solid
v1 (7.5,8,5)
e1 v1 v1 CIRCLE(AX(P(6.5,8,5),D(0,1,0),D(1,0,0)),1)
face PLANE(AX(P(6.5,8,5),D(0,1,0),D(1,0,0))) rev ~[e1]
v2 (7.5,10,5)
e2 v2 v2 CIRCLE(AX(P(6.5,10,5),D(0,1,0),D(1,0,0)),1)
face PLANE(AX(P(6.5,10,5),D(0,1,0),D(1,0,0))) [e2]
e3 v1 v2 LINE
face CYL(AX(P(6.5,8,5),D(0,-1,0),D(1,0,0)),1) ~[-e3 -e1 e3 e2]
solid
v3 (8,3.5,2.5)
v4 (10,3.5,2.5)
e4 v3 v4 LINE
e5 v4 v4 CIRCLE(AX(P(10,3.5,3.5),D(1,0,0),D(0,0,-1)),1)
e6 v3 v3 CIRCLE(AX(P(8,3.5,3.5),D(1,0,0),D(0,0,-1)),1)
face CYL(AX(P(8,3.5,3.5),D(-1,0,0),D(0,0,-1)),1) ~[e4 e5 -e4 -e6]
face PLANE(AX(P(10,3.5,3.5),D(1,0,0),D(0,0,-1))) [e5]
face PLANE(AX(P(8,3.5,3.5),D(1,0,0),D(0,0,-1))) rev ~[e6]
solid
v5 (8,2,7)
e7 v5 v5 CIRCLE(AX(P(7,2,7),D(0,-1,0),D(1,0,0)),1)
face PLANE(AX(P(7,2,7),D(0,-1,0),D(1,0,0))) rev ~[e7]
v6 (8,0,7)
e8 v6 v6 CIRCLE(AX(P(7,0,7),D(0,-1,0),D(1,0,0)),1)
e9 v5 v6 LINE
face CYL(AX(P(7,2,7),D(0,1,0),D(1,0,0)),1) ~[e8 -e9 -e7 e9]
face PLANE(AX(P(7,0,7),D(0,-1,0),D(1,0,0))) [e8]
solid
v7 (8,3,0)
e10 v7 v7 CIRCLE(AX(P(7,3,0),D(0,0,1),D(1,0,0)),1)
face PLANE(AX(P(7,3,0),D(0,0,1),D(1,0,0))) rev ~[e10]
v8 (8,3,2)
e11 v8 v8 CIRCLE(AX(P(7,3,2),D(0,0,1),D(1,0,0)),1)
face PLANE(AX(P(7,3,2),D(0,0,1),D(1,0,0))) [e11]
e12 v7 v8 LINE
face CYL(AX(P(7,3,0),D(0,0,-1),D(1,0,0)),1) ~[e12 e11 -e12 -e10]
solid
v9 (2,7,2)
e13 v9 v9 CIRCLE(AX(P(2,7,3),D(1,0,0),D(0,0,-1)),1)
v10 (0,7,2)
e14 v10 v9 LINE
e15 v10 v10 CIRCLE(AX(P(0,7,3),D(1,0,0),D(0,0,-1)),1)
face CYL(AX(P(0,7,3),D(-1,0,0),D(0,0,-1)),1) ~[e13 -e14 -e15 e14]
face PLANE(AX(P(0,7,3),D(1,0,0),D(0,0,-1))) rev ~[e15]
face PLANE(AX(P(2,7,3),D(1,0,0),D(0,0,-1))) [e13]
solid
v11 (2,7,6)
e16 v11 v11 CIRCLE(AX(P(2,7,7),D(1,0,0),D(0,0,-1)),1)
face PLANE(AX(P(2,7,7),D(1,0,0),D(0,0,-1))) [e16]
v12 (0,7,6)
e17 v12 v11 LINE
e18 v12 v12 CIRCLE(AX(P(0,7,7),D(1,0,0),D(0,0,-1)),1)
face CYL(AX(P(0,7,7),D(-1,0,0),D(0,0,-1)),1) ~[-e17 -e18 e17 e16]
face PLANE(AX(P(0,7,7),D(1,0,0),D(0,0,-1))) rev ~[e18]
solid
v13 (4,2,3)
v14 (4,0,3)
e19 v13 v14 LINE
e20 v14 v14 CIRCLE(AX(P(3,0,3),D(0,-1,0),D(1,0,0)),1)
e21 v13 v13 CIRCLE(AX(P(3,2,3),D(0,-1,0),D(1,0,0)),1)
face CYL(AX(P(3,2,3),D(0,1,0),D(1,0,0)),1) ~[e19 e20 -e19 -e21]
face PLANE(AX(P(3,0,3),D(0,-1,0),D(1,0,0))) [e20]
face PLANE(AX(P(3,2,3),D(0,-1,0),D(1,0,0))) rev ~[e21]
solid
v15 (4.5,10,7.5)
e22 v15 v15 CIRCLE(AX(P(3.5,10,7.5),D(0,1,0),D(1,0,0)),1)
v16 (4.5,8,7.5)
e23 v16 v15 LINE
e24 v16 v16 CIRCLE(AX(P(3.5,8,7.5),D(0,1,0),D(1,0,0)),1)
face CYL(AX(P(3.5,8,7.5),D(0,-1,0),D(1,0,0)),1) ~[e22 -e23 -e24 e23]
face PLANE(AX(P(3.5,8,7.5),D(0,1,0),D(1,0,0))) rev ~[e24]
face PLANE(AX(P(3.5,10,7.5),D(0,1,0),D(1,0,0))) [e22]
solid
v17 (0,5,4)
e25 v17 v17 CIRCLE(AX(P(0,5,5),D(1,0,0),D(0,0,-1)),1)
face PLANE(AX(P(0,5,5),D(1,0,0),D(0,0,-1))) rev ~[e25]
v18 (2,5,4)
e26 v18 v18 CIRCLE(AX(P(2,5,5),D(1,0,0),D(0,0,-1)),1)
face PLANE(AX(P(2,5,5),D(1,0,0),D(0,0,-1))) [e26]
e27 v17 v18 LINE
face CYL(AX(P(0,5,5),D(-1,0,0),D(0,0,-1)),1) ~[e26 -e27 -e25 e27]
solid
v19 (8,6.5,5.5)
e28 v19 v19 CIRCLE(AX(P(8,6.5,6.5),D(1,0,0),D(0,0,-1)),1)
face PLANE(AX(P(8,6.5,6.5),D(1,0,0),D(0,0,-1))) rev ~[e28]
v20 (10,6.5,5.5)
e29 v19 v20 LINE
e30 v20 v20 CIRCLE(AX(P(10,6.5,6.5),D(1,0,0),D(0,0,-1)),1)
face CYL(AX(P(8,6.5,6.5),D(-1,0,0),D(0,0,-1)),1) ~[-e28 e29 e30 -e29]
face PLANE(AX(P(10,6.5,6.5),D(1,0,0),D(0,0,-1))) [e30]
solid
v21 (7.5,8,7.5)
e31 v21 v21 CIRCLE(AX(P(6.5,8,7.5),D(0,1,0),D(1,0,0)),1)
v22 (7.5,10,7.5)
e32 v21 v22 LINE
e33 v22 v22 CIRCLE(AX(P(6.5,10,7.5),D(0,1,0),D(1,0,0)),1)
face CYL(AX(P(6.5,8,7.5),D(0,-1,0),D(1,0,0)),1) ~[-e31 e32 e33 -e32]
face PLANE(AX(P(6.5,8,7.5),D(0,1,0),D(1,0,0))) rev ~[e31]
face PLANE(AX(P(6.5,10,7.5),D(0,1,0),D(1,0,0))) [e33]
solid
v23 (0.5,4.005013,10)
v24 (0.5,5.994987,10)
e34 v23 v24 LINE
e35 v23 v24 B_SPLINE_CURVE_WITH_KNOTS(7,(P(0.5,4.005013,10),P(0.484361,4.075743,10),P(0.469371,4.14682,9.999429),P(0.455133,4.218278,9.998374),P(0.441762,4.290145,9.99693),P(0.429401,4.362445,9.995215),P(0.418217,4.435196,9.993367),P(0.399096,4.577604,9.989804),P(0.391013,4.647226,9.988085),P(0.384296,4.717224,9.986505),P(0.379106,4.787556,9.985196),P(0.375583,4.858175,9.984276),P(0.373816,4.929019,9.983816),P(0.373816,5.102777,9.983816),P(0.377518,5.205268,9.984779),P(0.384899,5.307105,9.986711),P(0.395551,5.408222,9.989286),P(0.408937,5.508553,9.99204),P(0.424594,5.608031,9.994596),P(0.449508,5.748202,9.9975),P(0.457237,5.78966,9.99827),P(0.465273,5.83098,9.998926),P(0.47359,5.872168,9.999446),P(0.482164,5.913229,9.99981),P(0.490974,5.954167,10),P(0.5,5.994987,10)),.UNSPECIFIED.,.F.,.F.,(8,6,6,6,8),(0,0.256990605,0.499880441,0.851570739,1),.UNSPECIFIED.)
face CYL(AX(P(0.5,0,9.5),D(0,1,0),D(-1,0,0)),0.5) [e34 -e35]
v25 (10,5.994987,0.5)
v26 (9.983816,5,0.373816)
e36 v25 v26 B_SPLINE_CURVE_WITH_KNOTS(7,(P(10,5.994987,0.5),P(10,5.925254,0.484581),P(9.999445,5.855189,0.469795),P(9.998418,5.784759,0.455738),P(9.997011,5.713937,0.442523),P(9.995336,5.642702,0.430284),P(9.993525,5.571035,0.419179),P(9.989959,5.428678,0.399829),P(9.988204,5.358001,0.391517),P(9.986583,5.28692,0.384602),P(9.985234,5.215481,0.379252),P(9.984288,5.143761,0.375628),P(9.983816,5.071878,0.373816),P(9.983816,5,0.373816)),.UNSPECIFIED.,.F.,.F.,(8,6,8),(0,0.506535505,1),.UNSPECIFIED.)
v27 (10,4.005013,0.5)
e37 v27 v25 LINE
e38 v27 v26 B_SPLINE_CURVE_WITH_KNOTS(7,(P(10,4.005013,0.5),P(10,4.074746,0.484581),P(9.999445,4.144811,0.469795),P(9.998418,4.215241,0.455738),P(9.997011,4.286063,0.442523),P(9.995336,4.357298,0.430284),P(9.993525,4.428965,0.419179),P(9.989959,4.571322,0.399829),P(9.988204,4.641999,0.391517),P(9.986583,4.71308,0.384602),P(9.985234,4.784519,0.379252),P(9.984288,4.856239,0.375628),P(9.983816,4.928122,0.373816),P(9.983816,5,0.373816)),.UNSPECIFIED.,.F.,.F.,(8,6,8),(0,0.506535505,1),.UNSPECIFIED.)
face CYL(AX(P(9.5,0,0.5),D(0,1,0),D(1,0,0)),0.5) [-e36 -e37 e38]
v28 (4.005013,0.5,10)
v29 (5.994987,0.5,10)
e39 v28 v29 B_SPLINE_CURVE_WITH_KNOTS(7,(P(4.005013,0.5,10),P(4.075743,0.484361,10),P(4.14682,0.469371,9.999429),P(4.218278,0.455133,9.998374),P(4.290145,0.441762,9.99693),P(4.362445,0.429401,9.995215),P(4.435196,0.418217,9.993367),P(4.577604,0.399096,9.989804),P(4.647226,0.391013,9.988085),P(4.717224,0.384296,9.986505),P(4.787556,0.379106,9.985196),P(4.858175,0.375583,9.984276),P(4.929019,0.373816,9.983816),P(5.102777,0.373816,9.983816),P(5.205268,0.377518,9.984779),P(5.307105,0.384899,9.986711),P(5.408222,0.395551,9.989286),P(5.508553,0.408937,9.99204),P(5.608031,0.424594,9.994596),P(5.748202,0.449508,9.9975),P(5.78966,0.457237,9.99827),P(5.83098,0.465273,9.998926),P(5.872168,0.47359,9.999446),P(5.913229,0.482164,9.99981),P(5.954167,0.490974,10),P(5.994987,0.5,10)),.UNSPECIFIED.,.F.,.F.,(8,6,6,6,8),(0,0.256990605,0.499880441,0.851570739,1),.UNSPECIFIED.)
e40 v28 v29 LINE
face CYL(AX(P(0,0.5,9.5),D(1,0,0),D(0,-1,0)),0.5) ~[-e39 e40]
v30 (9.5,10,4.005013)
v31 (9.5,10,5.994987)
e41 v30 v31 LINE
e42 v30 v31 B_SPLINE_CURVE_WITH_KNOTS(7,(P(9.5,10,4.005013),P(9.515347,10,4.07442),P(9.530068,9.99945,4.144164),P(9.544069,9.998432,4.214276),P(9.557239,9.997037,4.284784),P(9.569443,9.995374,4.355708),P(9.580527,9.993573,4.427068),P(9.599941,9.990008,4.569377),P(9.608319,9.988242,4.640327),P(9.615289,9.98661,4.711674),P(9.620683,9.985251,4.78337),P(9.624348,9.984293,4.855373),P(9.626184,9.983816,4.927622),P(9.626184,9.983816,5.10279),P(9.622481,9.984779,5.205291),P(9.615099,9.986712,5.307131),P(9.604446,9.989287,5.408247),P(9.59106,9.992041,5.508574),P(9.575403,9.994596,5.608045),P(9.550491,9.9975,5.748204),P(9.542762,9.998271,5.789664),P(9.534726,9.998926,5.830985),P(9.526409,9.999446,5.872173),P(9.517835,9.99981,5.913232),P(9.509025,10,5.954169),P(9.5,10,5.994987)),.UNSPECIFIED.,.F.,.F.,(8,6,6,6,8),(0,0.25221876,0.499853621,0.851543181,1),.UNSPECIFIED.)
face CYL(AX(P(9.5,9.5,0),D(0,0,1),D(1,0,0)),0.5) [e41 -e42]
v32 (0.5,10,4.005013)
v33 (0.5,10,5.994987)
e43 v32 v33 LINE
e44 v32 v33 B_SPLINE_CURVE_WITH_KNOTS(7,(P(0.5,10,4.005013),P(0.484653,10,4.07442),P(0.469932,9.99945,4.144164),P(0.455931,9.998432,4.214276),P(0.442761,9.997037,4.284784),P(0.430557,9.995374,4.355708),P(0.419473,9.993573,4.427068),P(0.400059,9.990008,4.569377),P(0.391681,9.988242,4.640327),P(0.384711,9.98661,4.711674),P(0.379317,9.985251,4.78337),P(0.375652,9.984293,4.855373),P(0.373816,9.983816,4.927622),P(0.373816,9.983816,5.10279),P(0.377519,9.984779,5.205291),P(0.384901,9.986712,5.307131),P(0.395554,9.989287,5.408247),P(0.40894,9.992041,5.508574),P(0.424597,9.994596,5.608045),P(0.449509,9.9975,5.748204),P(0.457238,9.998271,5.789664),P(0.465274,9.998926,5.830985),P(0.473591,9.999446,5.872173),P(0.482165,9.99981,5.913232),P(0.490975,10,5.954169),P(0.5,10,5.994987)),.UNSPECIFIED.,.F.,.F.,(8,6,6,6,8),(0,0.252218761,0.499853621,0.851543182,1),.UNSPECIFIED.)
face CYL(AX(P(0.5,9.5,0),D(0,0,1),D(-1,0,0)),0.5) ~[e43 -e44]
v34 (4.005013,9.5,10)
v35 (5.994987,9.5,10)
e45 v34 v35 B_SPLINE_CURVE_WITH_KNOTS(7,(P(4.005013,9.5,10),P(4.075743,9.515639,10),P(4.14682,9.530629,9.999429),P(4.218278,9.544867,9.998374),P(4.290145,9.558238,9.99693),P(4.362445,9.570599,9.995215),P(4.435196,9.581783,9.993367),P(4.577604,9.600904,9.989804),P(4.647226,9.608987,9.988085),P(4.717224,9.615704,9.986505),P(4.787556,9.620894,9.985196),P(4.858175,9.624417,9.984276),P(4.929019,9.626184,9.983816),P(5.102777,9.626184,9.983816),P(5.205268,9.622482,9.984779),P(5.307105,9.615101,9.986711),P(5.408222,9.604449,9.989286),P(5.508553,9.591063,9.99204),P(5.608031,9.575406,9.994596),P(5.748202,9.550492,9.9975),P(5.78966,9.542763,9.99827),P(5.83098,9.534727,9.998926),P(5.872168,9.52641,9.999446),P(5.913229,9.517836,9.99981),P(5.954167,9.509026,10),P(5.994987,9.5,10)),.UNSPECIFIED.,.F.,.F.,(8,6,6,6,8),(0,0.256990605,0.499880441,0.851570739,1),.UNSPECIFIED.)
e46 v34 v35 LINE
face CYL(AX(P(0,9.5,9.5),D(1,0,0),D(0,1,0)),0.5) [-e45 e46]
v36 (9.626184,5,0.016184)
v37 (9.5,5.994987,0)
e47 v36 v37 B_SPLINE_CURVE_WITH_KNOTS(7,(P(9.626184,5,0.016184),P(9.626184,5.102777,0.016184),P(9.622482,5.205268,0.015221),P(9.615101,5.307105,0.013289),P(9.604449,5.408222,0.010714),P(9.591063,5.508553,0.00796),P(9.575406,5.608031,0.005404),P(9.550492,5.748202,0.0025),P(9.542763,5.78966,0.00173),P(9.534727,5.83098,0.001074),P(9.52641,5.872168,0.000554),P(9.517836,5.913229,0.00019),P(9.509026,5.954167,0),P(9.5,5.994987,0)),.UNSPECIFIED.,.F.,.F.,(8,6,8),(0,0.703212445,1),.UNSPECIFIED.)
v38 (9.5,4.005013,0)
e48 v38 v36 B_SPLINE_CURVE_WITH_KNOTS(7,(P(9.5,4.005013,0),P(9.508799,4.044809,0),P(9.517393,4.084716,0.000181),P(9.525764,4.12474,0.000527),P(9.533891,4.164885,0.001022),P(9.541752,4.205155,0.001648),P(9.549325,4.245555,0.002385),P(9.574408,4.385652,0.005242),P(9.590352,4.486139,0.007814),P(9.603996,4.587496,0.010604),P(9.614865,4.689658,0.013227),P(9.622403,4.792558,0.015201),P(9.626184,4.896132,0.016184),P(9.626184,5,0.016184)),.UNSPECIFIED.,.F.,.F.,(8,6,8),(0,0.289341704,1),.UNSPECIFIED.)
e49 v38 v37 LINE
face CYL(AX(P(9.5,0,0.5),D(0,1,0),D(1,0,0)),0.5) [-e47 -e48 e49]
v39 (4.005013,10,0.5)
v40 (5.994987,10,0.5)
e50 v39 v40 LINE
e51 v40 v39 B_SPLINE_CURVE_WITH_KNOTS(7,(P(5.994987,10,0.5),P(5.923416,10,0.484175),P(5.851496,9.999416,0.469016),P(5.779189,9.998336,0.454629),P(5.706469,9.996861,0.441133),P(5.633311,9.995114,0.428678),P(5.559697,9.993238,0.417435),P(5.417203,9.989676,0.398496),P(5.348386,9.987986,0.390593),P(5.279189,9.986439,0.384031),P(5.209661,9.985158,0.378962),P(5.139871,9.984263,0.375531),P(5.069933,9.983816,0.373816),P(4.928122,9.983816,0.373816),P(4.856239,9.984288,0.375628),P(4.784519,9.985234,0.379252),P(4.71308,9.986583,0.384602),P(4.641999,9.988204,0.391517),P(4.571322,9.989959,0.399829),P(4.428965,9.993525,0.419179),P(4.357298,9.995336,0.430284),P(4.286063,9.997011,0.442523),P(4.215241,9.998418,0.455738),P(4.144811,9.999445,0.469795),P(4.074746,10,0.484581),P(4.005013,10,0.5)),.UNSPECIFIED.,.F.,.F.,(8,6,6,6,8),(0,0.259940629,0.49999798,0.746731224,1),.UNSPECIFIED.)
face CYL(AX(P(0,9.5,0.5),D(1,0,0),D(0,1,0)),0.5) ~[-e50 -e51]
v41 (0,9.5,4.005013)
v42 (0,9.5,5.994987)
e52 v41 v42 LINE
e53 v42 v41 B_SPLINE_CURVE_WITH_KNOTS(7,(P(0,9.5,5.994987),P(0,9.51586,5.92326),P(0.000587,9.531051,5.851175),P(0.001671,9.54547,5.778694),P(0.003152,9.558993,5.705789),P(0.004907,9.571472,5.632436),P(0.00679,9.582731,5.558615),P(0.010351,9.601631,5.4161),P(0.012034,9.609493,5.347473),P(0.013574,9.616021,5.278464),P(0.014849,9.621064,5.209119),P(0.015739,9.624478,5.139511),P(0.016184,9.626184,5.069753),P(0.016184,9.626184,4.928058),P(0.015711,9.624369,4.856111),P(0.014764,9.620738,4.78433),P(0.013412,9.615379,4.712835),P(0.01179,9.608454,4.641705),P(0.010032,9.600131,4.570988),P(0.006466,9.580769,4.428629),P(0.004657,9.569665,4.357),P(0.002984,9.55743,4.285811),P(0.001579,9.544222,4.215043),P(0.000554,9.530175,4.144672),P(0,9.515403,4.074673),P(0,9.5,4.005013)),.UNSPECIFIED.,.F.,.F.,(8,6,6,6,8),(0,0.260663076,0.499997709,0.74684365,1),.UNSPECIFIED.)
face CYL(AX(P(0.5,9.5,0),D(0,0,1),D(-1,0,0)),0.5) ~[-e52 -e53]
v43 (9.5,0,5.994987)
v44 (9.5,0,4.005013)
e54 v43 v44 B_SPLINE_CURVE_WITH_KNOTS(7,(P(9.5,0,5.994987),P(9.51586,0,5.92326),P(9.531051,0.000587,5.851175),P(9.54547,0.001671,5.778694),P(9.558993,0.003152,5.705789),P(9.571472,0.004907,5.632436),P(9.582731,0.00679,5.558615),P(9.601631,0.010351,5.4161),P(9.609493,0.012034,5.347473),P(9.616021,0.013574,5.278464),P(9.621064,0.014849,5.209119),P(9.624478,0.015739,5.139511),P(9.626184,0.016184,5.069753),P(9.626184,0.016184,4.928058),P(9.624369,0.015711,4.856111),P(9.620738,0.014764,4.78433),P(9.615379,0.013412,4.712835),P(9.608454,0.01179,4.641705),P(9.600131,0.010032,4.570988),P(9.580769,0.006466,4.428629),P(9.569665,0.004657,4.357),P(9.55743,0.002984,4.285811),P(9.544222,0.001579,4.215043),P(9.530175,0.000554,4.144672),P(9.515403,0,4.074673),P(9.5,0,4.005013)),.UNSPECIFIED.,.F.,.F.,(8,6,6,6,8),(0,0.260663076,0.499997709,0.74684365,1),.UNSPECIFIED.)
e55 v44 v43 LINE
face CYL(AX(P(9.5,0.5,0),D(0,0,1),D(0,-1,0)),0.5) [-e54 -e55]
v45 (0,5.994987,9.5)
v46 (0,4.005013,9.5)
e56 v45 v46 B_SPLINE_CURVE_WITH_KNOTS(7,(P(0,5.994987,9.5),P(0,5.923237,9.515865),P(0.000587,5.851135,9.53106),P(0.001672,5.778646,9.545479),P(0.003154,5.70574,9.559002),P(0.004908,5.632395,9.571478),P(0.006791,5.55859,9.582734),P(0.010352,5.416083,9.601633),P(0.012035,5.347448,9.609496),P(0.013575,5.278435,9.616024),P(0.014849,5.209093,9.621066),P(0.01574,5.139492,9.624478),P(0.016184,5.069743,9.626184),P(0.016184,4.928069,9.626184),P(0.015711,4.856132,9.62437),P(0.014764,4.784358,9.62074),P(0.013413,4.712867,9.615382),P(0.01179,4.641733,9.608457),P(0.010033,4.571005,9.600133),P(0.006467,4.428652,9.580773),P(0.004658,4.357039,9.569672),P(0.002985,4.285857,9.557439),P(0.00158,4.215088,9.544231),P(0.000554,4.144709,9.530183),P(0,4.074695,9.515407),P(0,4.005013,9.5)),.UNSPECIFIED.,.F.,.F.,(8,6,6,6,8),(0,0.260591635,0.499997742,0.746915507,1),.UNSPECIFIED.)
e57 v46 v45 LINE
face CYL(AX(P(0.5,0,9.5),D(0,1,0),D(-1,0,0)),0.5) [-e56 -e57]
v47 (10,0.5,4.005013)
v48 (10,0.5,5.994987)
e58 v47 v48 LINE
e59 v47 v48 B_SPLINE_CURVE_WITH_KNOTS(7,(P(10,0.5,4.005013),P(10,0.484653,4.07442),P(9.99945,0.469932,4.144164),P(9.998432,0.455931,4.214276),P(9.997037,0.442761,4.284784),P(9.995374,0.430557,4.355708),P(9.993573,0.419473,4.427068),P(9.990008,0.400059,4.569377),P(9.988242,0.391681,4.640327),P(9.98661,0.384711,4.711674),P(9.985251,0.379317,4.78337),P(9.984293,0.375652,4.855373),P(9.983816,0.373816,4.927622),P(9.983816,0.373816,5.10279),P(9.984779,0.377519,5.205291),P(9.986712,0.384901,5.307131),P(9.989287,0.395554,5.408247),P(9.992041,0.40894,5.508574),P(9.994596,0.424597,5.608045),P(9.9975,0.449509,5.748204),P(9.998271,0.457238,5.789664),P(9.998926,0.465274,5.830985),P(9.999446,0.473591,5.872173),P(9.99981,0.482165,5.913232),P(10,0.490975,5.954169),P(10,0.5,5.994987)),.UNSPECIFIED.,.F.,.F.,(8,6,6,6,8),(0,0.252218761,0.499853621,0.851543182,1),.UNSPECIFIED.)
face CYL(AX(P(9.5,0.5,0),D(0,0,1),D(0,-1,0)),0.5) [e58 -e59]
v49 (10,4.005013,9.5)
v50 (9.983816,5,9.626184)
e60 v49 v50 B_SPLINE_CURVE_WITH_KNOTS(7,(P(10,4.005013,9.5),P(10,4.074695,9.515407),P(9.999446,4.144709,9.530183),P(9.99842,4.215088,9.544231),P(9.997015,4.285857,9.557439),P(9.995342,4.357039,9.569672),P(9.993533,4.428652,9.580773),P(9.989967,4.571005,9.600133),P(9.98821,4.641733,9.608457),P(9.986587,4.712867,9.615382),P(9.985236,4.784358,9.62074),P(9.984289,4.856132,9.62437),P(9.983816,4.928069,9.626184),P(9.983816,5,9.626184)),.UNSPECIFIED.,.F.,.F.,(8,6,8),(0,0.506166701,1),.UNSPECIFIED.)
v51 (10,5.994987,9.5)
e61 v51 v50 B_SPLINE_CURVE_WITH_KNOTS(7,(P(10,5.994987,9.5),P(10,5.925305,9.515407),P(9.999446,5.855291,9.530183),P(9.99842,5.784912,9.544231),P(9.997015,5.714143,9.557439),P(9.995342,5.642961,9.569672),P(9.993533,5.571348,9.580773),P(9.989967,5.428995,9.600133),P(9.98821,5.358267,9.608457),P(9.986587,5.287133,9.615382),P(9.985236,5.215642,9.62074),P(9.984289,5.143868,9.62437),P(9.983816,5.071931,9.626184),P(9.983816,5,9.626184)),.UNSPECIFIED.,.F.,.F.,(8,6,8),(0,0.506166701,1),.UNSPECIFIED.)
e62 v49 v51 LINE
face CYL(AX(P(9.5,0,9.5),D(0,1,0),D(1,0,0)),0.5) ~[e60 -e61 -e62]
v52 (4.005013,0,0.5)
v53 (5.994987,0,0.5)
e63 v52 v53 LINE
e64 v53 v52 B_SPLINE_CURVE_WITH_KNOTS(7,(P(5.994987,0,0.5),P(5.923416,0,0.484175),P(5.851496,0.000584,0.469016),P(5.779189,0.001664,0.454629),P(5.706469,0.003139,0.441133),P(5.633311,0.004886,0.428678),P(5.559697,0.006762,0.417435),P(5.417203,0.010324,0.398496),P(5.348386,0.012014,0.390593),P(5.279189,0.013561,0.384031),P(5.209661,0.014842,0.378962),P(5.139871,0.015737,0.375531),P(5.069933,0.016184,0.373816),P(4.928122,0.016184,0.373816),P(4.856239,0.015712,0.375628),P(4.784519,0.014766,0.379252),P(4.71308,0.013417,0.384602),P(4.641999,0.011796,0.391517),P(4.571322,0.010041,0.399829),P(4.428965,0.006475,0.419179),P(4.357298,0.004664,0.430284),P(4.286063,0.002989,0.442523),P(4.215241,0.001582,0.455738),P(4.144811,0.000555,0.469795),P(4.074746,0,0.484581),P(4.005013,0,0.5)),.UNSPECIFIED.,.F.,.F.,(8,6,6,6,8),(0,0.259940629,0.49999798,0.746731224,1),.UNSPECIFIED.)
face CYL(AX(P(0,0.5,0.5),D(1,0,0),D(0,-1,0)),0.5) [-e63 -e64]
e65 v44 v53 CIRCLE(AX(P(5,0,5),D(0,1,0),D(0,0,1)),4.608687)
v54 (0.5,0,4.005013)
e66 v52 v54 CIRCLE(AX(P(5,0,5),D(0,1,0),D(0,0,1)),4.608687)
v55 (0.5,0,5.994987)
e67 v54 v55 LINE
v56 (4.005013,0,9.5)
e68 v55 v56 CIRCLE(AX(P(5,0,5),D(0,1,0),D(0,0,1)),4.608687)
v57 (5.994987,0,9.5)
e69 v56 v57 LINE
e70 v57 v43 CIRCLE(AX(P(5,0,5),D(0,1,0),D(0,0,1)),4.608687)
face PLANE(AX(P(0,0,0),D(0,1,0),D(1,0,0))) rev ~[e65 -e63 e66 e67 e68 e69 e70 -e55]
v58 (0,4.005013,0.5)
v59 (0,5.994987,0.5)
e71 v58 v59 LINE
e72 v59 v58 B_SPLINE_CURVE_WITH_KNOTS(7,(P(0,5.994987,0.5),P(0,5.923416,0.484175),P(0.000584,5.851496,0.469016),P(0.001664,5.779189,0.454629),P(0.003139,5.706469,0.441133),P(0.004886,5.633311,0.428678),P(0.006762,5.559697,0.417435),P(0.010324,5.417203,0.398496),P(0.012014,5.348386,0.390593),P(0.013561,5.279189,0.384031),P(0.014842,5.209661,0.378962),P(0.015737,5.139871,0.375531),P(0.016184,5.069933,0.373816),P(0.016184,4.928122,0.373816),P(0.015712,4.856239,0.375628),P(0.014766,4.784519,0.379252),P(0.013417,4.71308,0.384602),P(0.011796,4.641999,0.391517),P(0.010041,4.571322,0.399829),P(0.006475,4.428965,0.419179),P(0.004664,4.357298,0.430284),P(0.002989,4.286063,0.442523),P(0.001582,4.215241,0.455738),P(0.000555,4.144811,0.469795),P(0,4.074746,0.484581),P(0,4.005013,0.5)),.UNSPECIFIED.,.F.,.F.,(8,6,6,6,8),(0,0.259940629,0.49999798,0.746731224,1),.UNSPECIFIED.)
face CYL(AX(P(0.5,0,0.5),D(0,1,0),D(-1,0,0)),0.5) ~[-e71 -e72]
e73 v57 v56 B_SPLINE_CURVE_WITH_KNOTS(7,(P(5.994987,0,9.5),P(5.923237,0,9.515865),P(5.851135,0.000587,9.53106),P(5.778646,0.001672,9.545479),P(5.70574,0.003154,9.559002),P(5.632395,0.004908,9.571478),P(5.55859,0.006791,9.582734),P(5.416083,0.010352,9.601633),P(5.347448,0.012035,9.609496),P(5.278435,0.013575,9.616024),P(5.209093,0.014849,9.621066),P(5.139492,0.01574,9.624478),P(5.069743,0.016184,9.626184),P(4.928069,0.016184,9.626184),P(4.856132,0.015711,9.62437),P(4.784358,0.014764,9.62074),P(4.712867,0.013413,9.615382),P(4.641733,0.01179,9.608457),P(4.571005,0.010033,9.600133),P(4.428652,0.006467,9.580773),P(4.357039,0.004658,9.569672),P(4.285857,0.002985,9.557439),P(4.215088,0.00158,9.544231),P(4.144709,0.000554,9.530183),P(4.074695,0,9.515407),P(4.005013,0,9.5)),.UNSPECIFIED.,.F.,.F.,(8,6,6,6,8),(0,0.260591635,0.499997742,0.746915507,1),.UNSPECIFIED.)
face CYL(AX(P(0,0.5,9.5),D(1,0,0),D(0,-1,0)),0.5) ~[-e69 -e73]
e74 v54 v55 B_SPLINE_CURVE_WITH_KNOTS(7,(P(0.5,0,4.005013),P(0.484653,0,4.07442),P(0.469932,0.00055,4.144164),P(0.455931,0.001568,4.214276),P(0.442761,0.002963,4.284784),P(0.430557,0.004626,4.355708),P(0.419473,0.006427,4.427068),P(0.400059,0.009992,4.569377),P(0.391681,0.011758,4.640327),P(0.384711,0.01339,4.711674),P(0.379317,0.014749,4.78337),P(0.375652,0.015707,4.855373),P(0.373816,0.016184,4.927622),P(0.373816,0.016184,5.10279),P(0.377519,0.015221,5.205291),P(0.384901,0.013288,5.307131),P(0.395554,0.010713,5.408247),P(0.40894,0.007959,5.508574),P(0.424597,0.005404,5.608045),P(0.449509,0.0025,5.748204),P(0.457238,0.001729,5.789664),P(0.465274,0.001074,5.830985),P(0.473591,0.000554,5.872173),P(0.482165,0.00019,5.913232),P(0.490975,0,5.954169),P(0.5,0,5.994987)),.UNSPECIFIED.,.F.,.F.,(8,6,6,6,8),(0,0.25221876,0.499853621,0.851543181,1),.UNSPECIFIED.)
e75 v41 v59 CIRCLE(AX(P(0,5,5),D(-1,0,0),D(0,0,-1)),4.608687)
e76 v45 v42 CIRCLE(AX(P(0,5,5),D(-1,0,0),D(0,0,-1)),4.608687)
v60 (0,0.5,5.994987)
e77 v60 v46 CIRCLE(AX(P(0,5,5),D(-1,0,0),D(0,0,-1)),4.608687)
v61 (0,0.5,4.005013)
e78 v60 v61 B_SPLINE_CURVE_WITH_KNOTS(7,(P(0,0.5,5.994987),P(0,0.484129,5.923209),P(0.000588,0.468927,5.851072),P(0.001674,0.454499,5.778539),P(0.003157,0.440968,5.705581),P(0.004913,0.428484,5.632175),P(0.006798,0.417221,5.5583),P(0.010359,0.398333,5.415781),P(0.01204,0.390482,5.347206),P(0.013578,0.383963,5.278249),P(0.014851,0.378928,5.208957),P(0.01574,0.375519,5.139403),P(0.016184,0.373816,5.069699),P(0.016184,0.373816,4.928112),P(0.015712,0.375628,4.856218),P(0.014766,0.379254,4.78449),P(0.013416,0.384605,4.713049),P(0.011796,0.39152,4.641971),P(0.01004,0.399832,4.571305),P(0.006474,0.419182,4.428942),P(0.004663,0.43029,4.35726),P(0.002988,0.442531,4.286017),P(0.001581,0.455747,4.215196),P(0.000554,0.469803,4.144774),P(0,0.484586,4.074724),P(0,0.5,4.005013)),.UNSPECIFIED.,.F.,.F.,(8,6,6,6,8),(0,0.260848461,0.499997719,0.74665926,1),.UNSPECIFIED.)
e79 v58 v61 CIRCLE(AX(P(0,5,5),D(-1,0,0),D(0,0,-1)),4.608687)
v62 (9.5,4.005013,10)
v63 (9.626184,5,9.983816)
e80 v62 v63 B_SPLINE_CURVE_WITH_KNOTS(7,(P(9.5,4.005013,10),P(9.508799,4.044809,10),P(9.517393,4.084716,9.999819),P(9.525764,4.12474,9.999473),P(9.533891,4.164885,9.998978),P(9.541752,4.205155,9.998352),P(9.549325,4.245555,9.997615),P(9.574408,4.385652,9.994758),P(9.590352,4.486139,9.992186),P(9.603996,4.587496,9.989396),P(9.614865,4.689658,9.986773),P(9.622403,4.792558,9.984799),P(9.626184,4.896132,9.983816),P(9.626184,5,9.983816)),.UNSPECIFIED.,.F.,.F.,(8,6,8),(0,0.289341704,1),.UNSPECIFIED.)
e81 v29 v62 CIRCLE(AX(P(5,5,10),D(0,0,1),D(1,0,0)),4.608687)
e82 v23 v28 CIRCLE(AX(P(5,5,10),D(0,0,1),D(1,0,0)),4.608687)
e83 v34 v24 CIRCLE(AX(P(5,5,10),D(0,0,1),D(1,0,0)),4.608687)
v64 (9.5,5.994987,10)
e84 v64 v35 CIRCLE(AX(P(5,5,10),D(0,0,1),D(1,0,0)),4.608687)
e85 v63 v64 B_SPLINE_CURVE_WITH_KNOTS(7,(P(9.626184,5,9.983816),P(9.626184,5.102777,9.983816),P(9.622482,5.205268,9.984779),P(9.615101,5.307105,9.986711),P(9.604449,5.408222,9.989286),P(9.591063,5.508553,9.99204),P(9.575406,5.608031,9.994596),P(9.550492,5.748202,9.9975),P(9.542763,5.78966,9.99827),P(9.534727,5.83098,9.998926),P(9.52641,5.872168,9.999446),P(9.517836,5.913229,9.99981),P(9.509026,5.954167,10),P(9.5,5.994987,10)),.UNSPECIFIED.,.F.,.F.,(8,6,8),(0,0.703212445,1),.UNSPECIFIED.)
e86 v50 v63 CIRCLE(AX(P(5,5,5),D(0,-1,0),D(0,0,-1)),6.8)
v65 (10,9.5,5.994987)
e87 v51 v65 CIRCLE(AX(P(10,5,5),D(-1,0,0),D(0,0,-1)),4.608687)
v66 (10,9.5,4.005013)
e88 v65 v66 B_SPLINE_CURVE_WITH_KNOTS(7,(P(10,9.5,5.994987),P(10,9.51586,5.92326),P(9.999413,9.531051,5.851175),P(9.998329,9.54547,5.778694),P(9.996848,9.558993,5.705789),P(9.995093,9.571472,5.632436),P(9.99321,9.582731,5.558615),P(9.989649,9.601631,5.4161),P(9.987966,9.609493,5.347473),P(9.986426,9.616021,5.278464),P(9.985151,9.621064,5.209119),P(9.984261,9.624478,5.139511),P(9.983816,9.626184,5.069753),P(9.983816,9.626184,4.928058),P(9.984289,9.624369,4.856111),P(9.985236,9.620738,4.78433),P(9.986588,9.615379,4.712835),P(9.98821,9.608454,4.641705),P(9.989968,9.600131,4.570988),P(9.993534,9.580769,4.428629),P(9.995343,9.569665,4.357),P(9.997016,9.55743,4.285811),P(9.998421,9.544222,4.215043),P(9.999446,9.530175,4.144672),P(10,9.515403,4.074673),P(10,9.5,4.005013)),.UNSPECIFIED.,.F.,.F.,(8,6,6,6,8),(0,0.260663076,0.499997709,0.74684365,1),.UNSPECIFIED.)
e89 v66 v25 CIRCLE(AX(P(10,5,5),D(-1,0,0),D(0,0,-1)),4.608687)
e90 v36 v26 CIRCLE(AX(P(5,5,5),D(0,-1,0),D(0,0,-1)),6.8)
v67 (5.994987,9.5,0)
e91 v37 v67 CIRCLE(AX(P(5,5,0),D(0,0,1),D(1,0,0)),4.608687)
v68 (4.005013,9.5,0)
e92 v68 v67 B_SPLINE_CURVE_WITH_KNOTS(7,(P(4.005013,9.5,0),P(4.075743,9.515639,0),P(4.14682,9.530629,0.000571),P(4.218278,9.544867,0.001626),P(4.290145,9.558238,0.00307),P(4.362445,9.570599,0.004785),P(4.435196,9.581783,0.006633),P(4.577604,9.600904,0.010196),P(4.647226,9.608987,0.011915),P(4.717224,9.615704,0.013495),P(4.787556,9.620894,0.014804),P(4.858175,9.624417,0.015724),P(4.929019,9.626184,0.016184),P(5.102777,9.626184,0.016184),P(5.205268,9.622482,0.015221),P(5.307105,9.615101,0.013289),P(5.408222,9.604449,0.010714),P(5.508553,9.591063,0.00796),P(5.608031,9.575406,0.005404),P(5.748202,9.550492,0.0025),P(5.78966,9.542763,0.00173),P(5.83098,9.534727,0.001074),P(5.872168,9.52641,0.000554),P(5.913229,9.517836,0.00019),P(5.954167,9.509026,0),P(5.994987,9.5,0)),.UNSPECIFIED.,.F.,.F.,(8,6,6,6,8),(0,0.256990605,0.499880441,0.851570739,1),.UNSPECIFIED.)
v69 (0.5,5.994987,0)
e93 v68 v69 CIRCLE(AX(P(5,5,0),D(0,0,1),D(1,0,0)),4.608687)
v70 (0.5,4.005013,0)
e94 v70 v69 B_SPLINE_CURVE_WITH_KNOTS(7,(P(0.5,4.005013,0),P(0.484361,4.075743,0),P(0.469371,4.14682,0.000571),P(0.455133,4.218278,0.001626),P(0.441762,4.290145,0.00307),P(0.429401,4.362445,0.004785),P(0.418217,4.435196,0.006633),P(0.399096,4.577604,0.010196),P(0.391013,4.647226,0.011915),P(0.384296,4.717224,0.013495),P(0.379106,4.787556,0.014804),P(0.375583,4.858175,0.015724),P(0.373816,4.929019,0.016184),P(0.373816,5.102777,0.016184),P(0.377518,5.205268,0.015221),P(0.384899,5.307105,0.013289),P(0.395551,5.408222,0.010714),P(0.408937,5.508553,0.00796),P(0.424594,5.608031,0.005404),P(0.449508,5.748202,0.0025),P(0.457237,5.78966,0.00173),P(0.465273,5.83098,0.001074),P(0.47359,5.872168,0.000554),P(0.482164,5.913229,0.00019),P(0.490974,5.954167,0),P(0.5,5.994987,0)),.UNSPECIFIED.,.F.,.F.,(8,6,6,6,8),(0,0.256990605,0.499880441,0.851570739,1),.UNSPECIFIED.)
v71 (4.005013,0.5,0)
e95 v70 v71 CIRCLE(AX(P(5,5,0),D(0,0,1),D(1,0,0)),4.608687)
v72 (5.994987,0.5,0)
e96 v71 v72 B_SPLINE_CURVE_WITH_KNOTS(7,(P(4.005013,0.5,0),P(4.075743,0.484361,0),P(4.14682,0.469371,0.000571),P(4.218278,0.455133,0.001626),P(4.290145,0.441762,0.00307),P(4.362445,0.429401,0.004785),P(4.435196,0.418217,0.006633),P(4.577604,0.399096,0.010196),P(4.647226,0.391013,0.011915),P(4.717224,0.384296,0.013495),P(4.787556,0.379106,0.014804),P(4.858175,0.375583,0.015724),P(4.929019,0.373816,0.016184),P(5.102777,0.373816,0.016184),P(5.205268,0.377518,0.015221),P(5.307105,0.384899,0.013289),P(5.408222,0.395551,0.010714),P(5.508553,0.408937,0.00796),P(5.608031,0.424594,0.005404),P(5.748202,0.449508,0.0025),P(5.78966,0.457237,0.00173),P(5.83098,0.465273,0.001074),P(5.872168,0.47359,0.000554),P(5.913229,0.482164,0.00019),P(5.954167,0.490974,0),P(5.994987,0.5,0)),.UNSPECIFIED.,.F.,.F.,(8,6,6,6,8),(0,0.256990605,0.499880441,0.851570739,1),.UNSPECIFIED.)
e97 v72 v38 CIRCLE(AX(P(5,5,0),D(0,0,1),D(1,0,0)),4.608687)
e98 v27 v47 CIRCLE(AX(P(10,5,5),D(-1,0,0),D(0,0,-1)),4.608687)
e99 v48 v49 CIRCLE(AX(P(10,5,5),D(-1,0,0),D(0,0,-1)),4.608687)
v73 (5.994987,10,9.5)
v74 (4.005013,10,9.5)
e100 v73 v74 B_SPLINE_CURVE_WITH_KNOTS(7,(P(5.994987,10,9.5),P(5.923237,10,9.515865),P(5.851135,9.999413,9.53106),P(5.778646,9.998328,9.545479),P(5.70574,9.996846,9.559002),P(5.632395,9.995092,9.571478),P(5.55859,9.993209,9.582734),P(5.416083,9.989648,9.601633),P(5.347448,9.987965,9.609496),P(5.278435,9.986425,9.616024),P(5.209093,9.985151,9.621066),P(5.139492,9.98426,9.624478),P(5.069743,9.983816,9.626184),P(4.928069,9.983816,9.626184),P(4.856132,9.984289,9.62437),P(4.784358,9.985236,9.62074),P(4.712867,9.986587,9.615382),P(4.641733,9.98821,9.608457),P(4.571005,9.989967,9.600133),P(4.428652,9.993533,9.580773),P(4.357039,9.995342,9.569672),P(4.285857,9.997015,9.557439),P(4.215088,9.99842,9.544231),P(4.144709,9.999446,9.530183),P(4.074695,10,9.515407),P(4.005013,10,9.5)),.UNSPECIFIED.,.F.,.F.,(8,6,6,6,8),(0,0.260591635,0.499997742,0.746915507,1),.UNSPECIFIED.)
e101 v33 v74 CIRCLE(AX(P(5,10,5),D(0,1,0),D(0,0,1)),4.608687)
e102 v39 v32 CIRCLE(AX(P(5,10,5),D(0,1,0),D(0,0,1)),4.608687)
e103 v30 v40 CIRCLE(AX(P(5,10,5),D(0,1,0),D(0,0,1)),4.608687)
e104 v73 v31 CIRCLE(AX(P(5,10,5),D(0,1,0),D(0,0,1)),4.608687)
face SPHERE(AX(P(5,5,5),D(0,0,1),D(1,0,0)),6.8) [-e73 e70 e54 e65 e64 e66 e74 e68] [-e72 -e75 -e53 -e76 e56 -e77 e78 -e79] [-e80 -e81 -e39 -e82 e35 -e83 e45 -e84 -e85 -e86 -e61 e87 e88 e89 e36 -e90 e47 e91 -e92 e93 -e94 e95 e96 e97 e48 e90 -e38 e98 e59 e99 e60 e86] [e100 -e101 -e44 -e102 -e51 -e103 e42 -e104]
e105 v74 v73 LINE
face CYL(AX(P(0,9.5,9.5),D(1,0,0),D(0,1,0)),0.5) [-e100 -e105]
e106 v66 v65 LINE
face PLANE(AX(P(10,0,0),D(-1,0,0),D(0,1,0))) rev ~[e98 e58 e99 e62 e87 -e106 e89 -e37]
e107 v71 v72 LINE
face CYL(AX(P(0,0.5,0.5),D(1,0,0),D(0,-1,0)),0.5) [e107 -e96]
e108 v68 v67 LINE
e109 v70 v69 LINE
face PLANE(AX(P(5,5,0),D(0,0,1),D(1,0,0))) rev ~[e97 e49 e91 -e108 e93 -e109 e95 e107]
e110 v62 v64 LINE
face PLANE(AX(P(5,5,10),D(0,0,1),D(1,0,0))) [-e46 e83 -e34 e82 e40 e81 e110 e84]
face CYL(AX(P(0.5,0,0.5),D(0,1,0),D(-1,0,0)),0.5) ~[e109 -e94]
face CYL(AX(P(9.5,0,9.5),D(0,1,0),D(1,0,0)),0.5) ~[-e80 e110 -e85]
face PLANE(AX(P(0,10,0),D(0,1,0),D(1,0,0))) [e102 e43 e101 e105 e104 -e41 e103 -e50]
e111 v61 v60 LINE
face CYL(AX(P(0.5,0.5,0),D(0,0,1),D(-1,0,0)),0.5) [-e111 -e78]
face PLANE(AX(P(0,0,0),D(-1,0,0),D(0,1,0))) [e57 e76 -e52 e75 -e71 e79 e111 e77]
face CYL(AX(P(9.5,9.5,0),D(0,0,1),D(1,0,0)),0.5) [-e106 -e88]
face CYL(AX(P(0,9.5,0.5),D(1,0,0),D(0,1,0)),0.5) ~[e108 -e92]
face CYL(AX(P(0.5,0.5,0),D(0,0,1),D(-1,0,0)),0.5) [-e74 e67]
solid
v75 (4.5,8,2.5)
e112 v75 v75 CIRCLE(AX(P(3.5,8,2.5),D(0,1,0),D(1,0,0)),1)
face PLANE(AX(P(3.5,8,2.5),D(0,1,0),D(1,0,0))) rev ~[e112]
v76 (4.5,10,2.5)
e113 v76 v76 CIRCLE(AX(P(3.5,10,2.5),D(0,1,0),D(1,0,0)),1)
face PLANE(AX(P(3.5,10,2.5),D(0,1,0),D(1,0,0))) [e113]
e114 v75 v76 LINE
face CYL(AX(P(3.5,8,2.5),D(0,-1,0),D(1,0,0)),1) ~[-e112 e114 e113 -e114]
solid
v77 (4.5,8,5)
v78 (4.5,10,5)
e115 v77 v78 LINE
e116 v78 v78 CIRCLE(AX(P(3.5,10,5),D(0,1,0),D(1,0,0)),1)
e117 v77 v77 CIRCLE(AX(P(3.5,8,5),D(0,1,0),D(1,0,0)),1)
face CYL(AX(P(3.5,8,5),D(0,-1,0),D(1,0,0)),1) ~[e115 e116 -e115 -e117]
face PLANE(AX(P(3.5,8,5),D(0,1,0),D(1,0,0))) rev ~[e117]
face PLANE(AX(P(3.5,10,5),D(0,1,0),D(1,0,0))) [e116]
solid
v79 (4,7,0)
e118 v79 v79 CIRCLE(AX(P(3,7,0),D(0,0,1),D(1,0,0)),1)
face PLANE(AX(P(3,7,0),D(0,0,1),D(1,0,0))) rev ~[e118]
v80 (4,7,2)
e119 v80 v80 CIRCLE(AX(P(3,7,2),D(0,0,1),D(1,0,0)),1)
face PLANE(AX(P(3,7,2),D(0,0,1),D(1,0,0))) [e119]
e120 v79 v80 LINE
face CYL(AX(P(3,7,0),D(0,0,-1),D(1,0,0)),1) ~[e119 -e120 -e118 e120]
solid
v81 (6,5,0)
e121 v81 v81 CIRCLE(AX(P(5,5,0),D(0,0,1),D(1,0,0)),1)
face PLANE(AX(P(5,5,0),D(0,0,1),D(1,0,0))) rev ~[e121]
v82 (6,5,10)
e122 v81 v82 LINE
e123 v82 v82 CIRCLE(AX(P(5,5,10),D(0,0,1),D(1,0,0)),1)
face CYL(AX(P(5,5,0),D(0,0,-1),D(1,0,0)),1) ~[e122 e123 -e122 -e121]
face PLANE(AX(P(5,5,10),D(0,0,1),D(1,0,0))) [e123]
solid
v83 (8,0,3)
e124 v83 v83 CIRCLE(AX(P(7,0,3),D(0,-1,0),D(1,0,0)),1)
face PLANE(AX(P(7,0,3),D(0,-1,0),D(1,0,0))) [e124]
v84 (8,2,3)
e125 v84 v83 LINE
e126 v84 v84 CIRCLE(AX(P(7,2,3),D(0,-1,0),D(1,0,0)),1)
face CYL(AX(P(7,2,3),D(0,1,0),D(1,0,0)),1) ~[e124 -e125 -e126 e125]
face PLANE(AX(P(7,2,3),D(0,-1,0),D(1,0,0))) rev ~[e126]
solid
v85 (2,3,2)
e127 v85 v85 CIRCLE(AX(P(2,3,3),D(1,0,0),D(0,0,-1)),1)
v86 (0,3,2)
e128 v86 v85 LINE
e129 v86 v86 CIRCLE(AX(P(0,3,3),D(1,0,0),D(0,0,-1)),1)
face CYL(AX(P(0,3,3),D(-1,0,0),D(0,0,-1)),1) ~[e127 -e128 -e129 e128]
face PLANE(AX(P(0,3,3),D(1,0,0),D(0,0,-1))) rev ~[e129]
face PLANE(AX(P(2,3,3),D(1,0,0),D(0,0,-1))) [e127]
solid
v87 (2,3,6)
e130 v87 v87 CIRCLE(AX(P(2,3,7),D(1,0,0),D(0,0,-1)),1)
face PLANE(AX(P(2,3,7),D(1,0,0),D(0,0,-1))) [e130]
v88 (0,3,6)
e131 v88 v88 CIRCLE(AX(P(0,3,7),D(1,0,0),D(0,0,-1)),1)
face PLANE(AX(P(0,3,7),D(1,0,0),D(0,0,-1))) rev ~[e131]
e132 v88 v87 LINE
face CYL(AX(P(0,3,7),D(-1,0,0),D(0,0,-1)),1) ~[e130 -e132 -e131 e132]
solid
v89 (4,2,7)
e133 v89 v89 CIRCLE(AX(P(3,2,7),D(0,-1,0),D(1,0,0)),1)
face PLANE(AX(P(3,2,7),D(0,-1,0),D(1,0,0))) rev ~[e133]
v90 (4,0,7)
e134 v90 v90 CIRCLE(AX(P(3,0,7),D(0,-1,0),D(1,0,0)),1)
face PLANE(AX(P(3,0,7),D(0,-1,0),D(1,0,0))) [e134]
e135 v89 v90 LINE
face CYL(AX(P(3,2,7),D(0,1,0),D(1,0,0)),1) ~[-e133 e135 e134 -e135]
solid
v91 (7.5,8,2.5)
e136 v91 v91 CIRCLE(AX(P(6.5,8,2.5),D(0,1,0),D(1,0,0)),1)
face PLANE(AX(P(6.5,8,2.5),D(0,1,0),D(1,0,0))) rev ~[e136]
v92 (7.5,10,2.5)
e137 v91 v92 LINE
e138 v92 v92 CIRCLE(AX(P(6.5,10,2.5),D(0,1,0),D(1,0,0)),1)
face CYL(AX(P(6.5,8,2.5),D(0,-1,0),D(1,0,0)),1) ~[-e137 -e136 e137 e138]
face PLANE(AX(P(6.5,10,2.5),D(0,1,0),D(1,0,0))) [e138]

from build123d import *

# Parameters (mm, degrees)
BOX_W             = 10
BOX_H             = 10
BOX_DEPTH         = 10
FILLET_R          = 0.5
CYLINDER_R        = 1
CYLINDER_DEPTH    = 10
CYLINDER001_R     = 1
CYLINDER001_DEPTH = 2
CYLINDER002_R     = 1
CYLINDER002_DEPTH = 2
CYLINDER003_R     = 1
CYLINDER003_DEPTH = 2
CYLINDER004_R     = 1
CYLINDER004_DEPTH = 2
CYLINDER005_R     = 1
CYLINDER005_DEPTH = 2
CYLINDER006_R     = 1
CYLINDER006_DEPTH = 2
CYLINDER007_R     = 1
CYLINDER007_DEPTH = 2
CYLINDER008_R     = 1
CYLINDER008_DEPTH = 2
CYLINDER009_R     = 1
CYLINDER009_DEPTH = 2
CYLINDER010_R     = 1
CYLINDER010_DEPTH = 2
CYLINDER011_R     = 1
CYLINDER011_DEPTH = 2
CYLINDER012_R     = 1
CYLINDER012_DEPTH = 2
CYLINDER013_R     = 1
CYLINDER013_DEPTH = 2
CYLINDER015_R     = 1
CYLINDER015_DEPTH = 2
CYLINDER016_R     = 1
CYLINDER016_DEPTH = 2
CYLINDER017_R     = 1
CYLINDER017_DEPTH = 2
CYLINDER018_R     = 1
CYLINDER018_DEPTH = 2
CYLINDER019_R     = 1
CYLINDER019_DEPTH = 2
CYLINDER020_R     = 1
CYLINDER020_DEPTH = 2


with BuildPart() as sphere:
    # Sphere → Sphere (revolve)
    with BuildSketch(Plane(origin=(5, 5, 5), x_dir=(1, 0, 0), z_dir=(0, -1, 0))):
        with BuildLine():
            ThreePointArc((0, -6.8), (6.8, 0), (0, 6.8))
            Line((0, 6.8), (0, -6.8))
        make_face()
    revolve(axis=Axis((5, 5, 5), (0, 0, 1)))


with BuildPart() as common:
    # Box → Box (new body)
    with BuildSketch(Plane.XY):
        with Locations((5, 5)):
            Rectangle(BOX_W, BOX_H)
    extrude(amount=BOX_DEPTH)

    # Fillet
    fillet_edges = [common.edges().sort_by_distance(p)[0] for p in [
        (0, 0, 5),
        (0, 5, 10),
        (0, 10, 5),
        (0, 5, 0),
        (10, 0, 5),
        (10, 5, 10),
        (10, 10, 5),
        (10, 5, 0),
        (5, 0, 0),
        (5, 0, 10),
        (5, 10, 0),
        (5, 10, 10),
    ]]
    fillet(fillet_edges, radius=FILLET_R)

    # Common: intersect Sphere
    add(sphere.part, mode=Mode.INTERSECT)


with BuildPart() as cylinder:
    # Cylinder → Cylinder (new body)
    with BuildSketch(Plane(origin=(5, 5, 0), x_dir=(1, 0, 0), z_dir=(0, 0, 1))):
        Circle(CYLINDER_R)
    extrude(amount=CYLINDER_DEPTH)


with BuildPart() as cylinder001:
    # Cylinder001 → Cylinder001 (new body)
    with BuildSketch(Plane(origin=(7, 3, 0), x_dir=(1, 0, 0), z_dir=(0, 0, 1))):
        Circle(CYLINDER001_R)
    extrude(amount=CYLINDER001_DEPTH)


with BuildPart() as cylinder002:
    # Cylinder002 → Cylinder002 (new body)
    with BuildSketch(Plane(origin=(3, 7, 0), x_dir=(1, 0, 0), z_dir=(0, 0, 1))):
        Circle(CYLINDER002_R)
    extrude(amount=CYLINDER002_DEPTH)


with BuildPart() as cylinder003:
    # Cylinder003 → Cylinder003 (new body)
    with BuildSketch(Plane(origin=(0, 5, 5), x_dir=(0, 0, -1), z_dir=(1, 0, 0))):
        Circle(CYLINDER003_R)
    extrude(amount=CYLINDER003_DEPTH)


with BuildPart() as cylinder004:
    # Cylinder004 → Cylinder004 (new body)
    with BuildSketch(Plane(origin=(0, 7, 7), x_dir=(0, 0, -1), z_dir=(1, 0, 0))):
        Circle(CYLINDER004_R)
    extrude(amount=CYLINDER004_DEPTH)


with BuildPart() as cylinder005:
    # Cylinder005 → Cylinder005 (new body)
    with BuildSketch(Plane(origin=(0, 7, 3), x_dir=(0, 0, -1), z_dir=(1, 0, 0))):
        Circle(CYLINDER005_R)
    extrude(amount=CYLINDER005_DEPTH)


with BuildPart() as cylinder006:
    # Cylinder006 → Cylinder006 (new body)
    with BuildSketch(Plane(origin=(0, 3, 7), x_dir=(0, 0, -1), z_dir=(1, 0, 0))):
        Circle(CYLINDER006_R)
    extrude(amount=CYLINDER006_DEPTH)


with BuildPart() as cylinder007:
    # Cylinder007 → Cylinder007 (new body)
    with BuildSketch(Plane(origin=(0, 3, 3), x_dir=(0, 0, -1), z_dir=(1, 0, 0))):
        Circle(CYLINDER007_R)
    extrude(amount=CYLINDER007_DEPTH)


with BuildPart() as cylinder008:
    # Cylinder008 → Cylinder008 (new body)
    with BuildSketch(Plane(origin=(3, 2, 3), x_dir=(1, 0, 0), z_dir=(0, -1, 0))):
        Circle(CYLINDER008_R)
    extrude(amount=CYLINDER008_DEPTH)


with BuildPart() as cylinder009:
    # Cylinder009 → Cylinder009 (new body)
    with BuildSketch(Plane(origin=(7, 2, 3), x_dir=(1, 0, 0), z_dir=(0, -1, 0))):
        Circle(CYLINDER009_R)
    extrude(amount=CYLINDER009_DEPTH)


with BuildPart() as cylinder010:
    # Cylinder010 → Cylinder010 (new body)
    with BuildSketch(Plane(origin=(7, 2, 7), x_dir=(1, 0, 0), z_dir=(0, -1, 0))):
        Circle(CYLINDER010_R)
    extrude(amount=CYLINDER010_DEPTH)


with BuildPart() as cylinder011:
    # Cylinder011 → Cylinder011 (new body)
    with BuildSketch(Plane(origin=(3, 2, 7), x_dir=(1, 0, 0), z_dir=(0, -1, 0))):
        Circle(CYLINDER011_R)
    extrude(amount=CYLINDER011_DEPTH)


with BuildPart() as cylinder012:
    # Cylinder012 → Cylinder012 (new body)
    with BuildSketch(Plane(origin=(8, 3.5, 3.5), x_dir=(0, 0, -1), z_dir=(1, 0, 0))):
        Circle(CYLINDER012_R)
    extrude(amount=CYLINDER012_DEPTH)


with BuildPart() as cylinder013:
    # Cylinder013 → Cylinder013 (new body)
    with BuildSketch(Plane(origin=(8, 6.5, 6.5), x_dir=(0, 0, -1), z_dir=(1, 0, 0))):
        Circle(CYLINDER013_R)
    extrude(amount=CYLINDER013_DEPTH)


with BuildPart() as cylinder015:
    # Cylinder015 → Cylinder015 (new body)
    with BuildSketch(Plane(origin=(6.5, 8, 7.5), x_dir=(1, 0, 0), z_dir=(0, 1, 0))):
        Circle(CYLINDER015_R)
    extrude(amount=CYLINDER015_DEPTH)


with BuildPart() as cylinder016:
    # Cylinder016 → Cylinder016 (new body)
    with BuildSketch(Plane(origin=(6.5, 8, 5), x_dir=(1, 0, 0), z_dir=(0, 1, 0))):
        Circle(CYLINDER016_R)
    extrude(amount=CYLINDER016_DEPTH)


with BuildPart() as cylinder017:
    # Cylinder017 → Cylinder017 (new body)
    with BuildSketch(Plane(origin=(6.5, 8, 2.5), x_dir=(1, 0, 0), z_dir=(0, 1, 0))):
        Circle(CYLINDER017_R)
    extrude(amount=CYLINDER017_DEPTH)


with BuildPart() as cylinder018:
    # Cylinder018 → Cylinder018 (new body)
    with BuildSketch(Plane(origin=(3.5, 8, 7.5), x_dir=(1, 0, 0), z_dir=(0, 1, 0))):
        Circle(CYLINDER018_R)
    extrude(amount=CYLINDER018_DEPTH)


with BuildPart() as cylinder019:
    # Cylinder019 → Cylinder019 (new body)
    with BuildSketch(Plane(origin=(3.5, 8, 5), x_dir=(1, 0, 0), z_dir=(0, 1, 0))):
        Circle(CYLINDER019_R)
    extrude(amount=CYLINDER019_DEPTH)


with BuildPart() as cylinder020:
    # Cylinder020 → Cylinder020 (new body)
    with BuildSketch(Plane(origin=(3.5, 8, 2.5), x_dir=(1, 0, 0), z_dir=(0, 1, 0))):
        Circle(CYLINDER020_R)
    extrude(amount=CYLINDER020_DEPTH)


solid = Compound([common.part, cylinder.part, cylinder001.part, cylinder002.part, cylinder003.part, cylinder004.part, cylinder005.part, cylinder006.part, cylinder007.part, cylinder008.part, cylinder009.part, cylinder010.part, cylinder011.part, cylinder012.part, cylinder013.part, cylinder015.part, cylinder016.part, cylinder017.part, cylinder018.part, cylinder019.part, cylinder020.part])
